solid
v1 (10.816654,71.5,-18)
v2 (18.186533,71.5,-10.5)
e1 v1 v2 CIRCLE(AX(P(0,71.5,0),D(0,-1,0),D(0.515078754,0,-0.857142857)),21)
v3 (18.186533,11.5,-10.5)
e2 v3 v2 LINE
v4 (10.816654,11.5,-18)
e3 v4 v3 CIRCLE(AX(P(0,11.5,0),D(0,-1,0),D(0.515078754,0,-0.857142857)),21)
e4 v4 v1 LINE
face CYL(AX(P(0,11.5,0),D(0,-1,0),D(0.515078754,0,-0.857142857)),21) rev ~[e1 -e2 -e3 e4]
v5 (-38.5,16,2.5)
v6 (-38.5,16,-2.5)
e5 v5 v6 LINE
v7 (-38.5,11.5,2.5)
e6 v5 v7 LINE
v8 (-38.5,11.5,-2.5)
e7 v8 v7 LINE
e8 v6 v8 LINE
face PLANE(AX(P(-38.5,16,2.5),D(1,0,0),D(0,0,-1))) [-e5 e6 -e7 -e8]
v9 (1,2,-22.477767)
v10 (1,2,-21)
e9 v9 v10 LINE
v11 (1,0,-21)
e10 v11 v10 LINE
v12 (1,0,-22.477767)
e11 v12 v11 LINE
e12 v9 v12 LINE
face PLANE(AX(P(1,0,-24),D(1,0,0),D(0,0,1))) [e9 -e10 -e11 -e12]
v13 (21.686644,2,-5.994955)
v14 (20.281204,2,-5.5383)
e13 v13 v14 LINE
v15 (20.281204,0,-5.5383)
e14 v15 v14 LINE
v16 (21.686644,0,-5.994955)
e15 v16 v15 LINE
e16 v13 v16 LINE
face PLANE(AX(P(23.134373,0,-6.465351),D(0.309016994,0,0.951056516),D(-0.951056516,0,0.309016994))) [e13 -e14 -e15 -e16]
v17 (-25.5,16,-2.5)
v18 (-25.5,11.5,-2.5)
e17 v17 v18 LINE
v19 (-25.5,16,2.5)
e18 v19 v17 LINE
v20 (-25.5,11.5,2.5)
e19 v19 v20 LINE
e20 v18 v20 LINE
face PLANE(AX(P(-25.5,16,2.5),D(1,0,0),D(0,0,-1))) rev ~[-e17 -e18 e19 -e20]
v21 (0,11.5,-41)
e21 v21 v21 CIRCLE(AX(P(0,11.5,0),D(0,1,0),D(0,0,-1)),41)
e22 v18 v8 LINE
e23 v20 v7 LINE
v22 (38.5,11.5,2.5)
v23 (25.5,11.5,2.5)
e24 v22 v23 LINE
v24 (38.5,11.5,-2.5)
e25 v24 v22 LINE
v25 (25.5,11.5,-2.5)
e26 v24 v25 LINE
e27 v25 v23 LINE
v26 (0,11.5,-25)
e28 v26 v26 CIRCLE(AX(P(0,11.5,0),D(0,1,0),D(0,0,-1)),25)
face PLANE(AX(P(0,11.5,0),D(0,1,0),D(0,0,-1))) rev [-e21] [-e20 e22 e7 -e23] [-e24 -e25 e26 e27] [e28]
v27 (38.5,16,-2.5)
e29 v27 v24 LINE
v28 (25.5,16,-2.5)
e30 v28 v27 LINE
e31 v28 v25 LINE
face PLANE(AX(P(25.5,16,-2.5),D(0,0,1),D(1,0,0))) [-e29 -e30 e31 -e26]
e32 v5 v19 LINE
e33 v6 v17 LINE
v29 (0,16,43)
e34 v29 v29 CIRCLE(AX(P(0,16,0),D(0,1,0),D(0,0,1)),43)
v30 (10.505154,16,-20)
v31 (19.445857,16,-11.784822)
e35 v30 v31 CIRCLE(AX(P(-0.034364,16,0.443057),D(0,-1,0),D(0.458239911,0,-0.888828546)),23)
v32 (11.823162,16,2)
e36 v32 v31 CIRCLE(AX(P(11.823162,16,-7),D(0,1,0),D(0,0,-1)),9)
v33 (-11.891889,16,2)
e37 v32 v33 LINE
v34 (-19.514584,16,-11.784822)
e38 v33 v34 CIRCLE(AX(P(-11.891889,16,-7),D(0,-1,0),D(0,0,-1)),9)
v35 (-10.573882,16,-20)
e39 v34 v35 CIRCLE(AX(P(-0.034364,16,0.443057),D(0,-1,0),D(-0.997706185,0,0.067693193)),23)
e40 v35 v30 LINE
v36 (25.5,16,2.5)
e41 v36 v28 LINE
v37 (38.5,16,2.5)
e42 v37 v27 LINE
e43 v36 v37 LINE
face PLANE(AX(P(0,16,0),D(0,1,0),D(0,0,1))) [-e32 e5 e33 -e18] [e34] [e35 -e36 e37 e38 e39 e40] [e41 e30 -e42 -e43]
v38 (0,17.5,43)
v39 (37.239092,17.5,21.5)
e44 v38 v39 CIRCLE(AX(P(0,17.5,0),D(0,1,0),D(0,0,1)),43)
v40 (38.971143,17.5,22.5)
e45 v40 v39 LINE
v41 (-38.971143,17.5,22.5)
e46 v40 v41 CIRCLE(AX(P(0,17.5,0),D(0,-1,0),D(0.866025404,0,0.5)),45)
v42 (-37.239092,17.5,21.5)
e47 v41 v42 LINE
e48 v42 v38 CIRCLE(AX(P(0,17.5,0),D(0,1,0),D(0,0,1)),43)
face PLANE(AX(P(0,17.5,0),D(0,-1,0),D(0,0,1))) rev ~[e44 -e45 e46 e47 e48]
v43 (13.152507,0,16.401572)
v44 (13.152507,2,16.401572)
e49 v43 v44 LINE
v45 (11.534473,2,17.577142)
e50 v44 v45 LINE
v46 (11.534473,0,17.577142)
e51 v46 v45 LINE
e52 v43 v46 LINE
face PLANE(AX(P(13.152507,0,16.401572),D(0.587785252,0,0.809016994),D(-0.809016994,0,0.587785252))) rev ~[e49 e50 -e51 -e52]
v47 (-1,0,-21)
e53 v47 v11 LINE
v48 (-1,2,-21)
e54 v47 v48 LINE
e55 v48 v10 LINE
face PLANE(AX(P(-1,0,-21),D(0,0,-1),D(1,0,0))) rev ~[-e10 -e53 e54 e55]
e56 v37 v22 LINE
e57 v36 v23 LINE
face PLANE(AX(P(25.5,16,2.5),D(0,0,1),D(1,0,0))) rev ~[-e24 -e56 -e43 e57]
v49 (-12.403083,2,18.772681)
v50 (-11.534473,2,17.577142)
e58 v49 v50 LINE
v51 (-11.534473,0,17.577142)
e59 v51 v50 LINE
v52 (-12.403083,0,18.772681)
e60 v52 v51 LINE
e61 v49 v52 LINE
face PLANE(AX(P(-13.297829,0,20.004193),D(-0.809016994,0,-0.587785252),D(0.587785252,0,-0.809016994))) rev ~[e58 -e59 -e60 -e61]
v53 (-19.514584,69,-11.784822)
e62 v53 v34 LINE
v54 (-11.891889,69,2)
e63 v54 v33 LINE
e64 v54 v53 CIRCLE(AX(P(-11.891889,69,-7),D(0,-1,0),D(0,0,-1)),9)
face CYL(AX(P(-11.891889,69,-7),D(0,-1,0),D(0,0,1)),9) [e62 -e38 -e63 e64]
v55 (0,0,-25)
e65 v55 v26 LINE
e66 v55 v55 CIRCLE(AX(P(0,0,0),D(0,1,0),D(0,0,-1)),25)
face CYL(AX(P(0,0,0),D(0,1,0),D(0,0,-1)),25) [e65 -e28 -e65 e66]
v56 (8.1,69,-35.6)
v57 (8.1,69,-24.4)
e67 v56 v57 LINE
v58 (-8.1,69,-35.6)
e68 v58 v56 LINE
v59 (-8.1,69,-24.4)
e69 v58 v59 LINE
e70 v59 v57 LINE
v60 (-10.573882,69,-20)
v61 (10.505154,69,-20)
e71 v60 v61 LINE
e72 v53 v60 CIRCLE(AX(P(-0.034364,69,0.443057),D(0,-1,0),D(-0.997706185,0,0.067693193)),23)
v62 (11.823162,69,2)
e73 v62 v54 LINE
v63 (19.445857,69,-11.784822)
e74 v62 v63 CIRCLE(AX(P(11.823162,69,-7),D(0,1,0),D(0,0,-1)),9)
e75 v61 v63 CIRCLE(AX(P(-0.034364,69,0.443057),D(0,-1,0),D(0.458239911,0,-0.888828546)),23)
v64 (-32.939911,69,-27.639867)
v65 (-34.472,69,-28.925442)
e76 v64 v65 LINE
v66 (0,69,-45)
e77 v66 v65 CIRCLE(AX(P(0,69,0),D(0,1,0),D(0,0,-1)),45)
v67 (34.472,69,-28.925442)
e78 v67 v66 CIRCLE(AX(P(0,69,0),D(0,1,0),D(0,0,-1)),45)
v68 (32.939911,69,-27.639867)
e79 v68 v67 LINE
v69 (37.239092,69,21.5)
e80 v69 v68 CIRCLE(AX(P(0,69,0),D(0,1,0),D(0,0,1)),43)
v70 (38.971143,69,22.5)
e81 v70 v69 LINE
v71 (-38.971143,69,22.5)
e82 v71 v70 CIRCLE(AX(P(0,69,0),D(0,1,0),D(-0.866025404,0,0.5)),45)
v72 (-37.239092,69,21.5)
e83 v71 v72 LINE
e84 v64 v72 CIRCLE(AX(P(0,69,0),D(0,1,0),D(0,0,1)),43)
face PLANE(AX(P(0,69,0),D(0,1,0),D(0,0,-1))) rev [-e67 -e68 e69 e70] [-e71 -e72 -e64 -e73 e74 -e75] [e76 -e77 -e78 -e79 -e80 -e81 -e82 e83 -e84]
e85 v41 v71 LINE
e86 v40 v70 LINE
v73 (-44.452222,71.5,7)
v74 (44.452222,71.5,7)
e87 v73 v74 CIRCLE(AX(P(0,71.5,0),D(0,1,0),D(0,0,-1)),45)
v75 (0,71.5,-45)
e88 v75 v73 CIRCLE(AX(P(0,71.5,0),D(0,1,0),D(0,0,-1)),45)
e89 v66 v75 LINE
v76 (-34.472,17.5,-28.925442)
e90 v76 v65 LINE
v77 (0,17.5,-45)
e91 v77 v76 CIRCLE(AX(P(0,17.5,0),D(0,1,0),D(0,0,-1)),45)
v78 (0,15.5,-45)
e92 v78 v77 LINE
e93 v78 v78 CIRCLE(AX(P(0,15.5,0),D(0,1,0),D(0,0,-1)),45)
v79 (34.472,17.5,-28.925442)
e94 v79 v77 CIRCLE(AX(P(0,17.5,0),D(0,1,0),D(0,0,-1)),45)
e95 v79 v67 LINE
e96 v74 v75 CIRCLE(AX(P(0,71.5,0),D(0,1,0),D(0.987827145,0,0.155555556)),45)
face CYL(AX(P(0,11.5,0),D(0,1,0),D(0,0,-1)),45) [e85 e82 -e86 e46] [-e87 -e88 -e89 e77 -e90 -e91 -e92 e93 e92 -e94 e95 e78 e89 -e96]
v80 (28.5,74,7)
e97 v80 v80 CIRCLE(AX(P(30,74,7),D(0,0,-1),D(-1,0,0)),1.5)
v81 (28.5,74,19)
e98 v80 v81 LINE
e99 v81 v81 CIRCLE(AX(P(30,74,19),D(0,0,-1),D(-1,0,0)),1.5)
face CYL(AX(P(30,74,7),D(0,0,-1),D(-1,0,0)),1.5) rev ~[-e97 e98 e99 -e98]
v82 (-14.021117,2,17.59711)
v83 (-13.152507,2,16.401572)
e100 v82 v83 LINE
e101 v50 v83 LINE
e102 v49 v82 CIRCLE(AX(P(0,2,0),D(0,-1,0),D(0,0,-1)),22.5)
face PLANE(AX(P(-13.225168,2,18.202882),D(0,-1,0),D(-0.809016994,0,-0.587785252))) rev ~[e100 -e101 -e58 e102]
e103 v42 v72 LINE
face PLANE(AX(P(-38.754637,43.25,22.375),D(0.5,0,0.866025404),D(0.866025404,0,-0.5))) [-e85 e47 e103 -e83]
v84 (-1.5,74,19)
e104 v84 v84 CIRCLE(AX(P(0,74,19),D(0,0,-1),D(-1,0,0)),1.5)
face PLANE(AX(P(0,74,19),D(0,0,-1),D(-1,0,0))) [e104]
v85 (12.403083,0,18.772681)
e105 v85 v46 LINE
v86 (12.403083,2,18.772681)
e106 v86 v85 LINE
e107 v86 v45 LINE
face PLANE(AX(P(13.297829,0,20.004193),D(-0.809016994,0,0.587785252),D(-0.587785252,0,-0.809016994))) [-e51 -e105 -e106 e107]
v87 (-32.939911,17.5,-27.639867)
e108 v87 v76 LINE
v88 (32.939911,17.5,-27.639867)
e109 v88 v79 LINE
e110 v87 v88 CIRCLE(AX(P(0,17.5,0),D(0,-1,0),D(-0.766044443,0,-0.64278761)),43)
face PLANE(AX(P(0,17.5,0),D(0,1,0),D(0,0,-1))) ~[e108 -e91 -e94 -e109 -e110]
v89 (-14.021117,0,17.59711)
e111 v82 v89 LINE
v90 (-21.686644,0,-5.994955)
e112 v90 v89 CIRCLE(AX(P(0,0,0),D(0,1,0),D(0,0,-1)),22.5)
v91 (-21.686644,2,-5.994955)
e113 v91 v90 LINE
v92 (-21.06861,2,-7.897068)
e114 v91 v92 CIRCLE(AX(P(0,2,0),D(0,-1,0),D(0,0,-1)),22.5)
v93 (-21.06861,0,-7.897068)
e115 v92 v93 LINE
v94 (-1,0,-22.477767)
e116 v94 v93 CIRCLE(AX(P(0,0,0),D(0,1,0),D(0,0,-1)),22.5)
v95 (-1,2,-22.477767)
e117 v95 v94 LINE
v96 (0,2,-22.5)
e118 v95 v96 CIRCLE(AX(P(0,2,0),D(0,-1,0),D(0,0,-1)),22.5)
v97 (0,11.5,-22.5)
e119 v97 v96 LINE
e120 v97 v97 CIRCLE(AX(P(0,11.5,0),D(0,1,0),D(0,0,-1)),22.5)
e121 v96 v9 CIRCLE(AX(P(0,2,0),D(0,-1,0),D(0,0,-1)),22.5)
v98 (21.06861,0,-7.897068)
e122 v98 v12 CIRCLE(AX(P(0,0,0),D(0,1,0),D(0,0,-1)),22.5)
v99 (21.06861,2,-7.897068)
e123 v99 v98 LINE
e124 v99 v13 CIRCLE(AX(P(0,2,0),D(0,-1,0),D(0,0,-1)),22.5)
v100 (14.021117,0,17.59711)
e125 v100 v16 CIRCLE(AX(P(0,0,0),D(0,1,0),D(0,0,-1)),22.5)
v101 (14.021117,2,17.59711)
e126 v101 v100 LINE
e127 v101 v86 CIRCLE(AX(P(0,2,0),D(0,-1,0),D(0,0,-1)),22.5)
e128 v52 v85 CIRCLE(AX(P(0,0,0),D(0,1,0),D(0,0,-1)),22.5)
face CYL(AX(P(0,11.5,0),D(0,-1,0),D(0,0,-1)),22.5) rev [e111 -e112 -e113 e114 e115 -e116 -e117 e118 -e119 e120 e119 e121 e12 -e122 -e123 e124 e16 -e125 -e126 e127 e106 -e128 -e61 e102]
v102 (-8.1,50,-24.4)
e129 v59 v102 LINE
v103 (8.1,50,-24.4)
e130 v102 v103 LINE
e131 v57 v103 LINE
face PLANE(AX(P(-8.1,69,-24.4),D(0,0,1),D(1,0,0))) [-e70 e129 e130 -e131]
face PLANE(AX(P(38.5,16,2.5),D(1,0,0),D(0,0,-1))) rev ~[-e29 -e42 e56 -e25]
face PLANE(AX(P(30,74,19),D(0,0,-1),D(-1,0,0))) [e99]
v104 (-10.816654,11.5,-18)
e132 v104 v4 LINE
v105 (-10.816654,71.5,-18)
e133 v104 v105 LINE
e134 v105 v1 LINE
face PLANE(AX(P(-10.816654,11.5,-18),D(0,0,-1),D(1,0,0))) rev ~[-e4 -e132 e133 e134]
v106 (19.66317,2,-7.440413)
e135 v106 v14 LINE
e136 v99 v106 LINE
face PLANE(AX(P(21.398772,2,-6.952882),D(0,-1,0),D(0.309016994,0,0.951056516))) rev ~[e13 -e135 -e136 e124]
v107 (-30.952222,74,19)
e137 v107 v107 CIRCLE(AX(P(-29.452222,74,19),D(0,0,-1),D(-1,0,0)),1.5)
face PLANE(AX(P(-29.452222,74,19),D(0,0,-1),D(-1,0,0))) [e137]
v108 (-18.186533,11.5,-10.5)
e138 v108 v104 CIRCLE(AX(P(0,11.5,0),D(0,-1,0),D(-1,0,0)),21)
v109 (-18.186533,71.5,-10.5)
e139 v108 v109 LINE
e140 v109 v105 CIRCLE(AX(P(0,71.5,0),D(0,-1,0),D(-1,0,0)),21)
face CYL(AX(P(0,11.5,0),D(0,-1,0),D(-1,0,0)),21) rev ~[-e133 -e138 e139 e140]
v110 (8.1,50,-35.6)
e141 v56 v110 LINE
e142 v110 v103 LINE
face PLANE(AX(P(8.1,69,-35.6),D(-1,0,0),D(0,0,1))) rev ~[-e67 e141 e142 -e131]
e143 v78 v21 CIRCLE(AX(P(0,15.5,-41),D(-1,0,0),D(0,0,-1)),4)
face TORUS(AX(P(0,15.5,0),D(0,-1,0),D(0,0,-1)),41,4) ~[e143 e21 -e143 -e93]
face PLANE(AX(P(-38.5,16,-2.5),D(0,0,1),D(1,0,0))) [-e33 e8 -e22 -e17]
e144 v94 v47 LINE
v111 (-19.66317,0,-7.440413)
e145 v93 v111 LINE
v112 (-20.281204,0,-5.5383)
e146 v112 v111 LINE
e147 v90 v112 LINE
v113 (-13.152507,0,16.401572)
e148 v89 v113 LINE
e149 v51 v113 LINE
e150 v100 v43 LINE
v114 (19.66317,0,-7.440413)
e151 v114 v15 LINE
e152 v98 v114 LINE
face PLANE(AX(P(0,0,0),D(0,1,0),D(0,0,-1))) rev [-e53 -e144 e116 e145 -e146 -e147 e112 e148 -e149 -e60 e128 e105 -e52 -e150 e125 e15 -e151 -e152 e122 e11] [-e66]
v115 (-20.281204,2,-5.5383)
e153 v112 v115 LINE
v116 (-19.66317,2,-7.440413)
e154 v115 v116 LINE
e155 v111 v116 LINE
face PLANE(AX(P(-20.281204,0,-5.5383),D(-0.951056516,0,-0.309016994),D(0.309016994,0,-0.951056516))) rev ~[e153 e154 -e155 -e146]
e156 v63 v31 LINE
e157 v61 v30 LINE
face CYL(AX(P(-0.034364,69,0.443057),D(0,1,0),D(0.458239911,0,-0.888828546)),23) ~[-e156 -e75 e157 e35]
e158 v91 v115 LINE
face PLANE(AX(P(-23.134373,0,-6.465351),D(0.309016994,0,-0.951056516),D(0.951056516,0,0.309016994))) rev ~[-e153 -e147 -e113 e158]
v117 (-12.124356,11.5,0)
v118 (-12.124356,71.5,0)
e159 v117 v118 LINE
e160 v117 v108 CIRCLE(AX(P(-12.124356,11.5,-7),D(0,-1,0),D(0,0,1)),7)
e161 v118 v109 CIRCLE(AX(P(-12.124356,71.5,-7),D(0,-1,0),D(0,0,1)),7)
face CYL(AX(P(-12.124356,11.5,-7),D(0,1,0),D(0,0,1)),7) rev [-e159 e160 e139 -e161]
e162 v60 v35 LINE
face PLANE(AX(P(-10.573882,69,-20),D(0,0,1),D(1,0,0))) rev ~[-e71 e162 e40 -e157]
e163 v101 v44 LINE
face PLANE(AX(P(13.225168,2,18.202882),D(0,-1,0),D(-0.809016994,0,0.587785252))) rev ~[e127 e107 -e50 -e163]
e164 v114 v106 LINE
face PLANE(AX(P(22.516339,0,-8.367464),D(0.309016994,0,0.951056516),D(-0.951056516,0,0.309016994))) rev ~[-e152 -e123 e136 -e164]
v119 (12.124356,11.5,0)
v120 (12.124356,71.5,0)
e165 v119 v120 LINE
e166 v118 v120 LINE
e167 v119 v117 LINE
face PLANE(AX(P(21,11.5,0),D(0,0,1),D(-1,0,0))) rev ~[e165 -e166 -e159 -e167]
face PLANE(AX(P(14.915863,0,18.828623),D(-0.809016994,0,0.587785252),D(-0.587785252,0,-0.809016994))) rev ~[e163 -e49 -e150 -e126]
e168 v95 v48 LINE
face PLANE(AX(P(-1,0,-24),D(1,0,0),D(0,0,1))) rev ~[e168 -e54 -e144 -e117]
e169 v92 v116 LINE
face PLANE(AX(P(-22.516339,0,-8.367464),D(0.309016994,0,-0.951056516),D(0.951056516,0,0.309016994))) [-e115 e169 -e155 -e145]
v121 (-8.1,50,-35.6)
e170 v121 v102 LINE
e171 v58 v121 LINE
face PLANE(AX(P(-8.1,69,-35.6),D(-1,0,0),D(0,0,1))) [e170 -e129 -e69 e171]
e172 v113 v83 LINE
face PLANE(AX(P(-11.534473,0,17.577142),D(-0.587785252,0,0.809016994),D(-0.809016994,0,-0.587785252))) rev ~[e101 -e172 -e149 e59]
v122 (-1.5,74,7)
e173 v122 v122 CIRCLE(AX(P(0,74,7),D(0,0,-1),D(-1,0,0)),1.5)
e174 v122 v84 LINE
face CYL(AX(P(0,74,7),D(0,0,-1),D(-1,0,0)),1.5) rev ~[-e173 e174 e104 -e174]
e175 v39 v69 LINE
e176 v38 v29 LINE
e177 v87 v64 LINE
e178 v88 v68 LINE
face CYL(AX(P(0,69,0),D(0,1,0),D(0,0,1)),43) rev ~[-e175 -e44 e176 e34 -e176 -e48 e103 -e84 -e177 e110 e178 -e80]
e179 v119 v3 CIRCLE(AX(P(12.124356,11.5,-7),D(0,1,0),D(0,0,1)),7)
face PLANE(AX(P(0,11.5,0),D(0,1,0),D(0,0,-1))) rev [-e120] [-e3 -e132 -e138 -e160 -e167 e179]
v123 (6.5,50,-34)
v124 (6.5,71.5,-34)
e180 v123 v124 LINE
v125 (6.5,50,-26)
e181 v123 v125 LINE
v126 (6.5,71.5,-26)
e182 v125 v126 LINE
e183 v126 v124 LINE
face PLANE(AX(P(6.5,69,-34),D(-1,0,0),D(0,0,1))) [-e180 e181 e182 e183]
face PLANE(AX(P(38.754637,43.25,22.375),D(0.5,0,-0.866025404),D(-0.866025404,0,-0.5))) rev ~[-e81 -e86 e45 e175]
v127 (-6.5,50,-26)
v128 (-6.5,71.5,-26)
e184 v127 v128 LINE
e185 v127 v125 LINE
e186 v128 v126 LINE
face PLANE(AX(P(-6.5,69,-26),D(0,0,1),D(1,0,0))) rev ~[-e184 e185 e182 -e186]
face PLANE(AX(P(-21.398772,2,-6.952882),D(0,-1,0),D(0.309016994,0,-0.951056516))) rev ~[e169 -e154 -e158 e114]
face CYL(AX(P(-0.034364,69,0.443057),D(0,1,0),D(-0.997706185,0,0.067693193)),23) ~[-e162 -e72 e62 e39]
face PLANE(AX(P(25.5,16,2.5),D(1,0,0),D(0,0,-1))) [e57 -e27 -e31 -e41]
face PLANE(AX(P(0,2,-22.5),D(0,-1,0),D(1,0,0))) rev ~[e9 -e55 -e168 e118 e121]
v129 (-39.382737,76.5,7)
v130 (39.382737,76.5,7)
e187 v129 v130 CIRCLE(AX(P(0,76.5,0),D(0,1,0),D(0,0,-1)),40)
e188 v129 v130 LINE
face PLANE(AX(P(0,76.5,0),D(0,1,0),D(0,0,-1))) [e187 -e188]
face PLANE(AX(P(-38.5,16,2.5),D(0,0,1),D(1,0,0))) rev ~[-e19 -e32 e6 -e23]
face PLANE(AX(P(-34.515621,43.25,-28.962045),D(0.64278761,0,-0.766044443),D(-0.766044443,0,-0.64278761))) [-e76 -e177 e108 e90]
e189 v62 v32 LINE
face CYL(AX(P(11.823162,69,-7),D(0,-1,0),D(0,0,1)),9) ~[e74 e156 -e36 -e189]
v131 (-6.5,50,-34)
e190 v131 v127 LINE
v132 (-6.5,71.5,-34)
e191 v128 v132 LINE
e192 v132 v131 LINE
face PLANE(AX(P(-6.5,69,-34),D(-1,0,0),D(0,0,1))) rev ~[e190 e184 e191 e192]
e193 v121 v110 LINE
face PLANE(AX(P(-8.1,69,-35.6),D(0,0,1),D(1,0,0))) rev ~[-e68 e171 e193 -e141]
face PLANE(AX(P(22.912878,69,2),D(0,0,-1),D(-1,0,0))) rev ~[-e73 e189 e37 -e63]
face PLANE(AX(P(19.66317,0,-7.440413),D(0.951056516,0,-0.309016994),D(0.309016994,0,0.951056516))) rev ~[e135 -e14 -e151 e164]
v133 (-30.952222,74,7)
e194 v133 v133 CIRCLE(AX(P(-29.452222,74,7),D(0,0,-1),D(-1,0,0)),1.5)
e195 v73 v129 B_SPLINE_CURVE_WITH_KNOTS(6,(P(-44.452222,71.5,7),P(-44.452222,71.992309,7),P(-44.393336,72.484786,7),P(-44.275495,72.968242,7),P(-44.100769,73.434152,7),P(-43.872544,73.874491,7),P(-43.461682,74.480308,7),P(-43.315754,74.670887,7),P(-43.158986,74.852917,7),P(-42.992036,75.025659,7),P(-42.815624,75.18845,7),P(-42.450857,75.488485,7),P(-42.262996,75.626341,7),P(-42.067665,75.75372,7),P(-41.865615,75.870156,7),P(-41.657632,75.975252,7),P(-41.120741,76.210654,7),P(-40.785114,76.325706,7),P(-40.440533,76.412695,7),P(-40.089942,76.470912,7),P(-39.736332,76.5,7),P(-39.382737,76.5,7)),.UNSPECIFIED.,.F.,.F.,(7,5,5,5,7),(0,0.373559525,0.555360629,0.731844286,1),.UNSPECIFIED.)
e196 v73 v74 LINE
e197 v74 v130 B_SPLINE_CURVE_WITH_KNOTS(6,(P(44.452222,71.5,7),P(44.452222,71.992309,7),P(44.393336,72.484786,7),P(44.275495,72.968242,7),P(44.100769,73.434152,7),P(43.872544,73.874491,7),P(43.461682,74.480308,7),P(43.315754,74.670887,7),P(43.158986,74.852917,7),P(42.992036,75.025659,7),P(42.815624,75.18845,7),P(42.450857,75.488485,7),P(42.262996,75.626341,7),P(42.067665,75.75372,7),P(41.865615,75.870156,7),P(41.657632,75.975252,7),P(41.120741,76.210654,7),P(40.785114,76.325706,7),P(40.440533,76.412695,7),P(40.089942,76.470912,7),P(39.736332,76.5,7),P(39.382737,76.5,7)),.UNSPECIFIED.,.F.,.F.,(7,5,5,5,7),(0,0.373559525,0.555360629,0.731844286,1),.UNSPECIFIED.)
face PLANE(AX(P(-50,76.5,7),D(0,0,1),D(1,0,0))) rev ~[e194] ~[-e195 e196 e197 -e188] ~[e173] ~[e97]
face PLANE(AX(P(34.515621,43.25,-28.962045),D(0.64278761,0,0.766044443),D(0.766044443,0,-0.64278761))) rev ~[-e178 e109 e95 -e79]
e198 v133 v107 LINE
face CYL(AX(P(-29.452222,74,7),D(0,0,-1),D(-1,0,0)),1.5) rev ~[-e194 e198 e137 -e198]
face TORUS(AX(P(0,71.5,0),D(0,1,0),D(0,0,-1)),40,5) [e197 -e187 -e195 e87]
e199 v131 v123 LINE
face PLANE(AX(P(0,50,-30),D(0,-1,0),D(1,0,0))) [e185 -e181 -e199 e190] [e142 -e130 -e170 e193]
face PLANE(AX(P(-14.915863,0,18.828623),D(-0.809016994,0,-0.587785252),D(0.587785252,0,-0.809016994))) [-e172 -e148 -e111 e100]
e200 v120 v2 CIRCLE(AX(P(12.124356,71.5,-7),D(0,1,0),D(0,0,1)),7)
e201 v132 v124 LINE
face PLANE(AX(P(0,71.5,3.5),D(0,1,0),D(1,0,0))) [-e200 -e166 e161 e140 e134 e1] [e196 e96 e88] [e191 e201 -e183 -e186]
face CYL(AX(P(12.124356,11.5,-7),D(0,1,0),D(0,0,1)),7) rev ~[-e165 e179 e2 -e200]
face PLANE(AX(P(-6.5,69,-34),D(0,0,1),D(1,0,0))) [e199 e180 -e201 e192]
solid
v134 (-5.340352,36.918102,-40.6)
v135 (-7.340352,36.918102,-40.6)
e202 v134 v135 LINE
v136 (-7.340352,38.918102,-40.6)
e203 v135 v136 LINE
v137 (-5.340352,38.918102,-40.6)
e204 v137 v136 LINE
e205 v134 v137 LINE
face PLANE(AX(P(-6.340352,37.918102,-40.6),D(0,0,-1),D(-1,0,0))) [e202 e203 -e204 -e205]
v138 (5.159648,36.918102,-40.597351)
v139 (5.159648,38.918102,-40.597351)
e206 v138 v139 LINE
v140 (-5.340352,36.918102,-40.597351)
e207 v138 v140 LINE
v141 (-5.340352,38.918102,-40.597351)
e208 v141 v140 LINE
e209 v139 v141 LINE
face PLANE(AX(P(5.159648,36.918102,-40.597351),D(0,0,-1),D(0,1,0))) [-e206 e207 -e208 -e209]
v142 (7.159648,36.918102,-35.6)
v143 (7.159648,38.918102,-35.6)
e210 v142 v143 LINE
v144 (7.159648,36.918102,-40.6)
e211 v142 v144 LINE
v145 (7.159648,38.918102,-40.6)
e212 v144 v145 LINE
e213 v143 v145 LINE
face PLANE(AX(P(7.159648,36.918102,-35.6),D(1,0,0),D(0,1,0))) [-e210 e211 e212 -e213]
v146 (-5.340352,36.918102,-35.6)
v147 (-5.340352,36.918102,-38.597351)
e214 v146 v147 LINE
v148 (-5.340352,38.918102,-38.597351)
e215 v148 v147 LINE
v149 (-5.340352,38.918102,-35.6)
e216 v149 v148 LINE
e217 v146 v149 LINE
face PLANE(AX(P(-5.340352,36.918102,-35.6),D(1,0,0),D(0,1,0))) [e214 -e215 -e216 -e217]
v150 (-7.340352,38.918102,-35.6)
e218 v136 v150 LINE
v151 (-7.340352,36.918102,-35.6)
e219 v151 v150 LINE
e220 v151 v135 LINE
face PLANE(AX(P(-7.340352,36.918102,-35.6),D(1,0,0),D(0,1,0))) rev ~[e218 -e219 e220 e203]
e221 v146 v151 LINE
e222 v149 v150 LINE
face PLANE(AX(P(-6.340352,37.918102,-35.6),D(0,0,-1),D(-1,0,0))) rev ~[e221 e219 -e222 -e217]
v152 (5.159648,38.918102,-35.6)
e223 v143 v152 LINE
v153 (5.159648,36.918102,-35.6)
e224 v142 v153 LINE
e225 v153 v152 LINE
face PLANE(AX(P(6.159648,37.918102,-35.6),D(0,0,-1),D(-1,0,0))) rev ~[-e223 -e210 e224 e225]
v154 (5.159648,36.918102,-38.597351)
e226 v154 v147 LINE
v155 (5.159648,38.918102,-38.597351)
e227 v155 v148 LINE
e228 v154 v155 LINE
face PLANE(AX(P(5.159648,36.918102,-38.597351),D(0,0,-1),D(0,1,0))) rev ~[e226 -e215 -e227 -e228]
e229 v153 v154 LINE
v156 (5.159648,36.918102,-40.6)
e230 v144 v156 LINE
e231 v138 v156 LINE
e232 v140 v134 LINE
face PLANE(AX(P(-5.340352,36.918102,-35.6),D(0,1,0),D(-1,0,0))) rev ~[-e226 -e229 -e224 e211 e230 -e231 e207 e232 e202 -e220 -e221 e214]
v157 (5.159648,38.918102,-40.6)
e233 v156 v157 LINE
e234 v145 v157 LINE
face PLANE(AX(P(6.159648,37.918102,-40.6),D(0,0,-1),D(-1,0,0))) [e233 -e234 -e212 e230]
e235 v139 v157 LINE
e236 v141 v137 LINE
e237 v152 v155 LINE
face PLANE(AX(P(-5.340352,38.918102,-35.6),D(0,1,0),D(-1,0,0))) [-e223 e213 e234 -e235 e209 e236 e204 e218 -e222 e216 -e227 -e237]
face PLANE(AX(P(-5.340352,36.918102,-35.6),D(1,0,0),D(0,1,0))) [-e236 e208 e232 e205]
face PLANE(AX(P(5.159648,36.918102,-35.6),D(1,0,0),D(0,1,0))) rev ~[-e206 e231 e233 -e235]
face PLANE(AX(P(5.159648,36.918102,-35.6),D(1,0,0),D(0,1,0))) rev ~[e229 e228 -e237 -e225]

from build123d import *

# Parameters (mm, degrees)
CUT_EXTRUDE1_DEPTH           = 5
CUT_EXTRUDE3_DEPTH           = 60
SKETCH8_R                    = 43
CUT_EXTRUDE4_DEPTH           = 53
FILLET1_R                    = 7
SKETCH12_W                   = 6.5
SKETCH12_H                   = 51.5
CUT_REVOLVE1_ANGLE           = 60
CUT_REVOLVE1_OTHER_WAY_ANGLE = 60
SKETCH18_W                   = 13
SKETCH18_H                   = 8
CUT_EXTRUDE13_DEPTH          = 5
SKETCH20_W                   = 100
SKETCH20_H                   = 7
CUT_EXTRUDE15_DEPTH          = 5
SKETCH19_R                   = 1.5
CUT_EXTRUDE14_DEPTH          = 12
FILLET3_R                    = 4
SKETCH24_W                   = 2
SKETCH24_H                   = 3
BOSS_EXTRUDE3_DEPTH          = 2
CIRPATTERN2_COUNT            = 5
SKETCH26_W                   = 5
SKETCH26_H                   = 51.5
CUT_REVOLVE2_ANGLE           = 50
CUT_REVOLVE2_OTHER_WAY_ANGLE = 50
SKETCH29_W                   = 16.2
SKETCH29_H                   = 11.2
SKETCH29_W_2                 = 13
SKETCH29_H_2                 = 8
BOSS_EXTRUDE4_DEPTH          = 19
SKETCH36_W                   = 2
SKETCH36_H                   = 2
BOSS_EXTRUDE7_DEPTH          = 5
SKETCH37_W                   = 2
SKETCH37_H                   = 2
BOSS_EXTRUDE8_DEPTH          = 12.5
SKETCH40_W                   = 2
SKETCH40_H                   = 2
BOSS_EXTRUDE9_DEPTH          = 5
FILLET8_R                    = 9
SKETCH50_W                   = 13
SKETCH50_H                   = 5
CUT_EXTRUDE23_DEPTH          = 7


with BuildPart() as part:
    # Sketch1 → Revolve1 (revolve)
    with BuildSketch(Plane.XY, mode=Mode.PRIVATE) as revolve1_sk:
        with BuildLine():
            Line((0, 76.5), (0, 11.5))
            Line((0, 11.5), (22.5, 11.5))
            Line((22.5, 11.5), (22.5, 0))
            Line((22.5, 0), (25, 0))
            Line((25, 0), (25, 11.5))
            Line((25, 11.5), (45, 11.5))
            Line((45, 11.5), (45, 71.5))
            ThreePointArc((45, 71.5), (43.535533906, 75.035533906), (40, 76.5))
            Line((40, 76.5), (0, 76.5))
        make_face()
    revolve(revolve1_sk.sketch.rotate(Axis((0, 2, 0), (0, 1, 0)), 90), axis=Axis((0, 2, 0), (0, 1, 0)))

    # Sketch5 → Cut-Extrude1 (cut)
    with BuildSketch(Plane(origin=(0, 76.5, 0), x_dir=(1, 0, 0), z_dir=(0, 1, 0))):
        with BuildLine():
            Line((-45, 0), (45, 0))
            ThreePointArc((45, 0), (0, 45), (-45, 0))
        make_face()
    extrude(amount=-CUT_EXTRUDE1_DEPTH, mode=Mode.SUBTRACT)

    # Sketch7 → Cut-Extrude3 (cut)
    with BuildSketch(Plane.XZ.offset(-11.5)):
        with BuildLine():
            Line((21, 0), (-21, 0))
            ThreePointArc((-21, 0), (-18.277714988, -10.340461055), (-10.816653826, -18))
            Line((-10.816653826, -18), (10.816653826, -18))
            ThreePointArc((10.816653826, -18), (18.277714988, -10.340461055), (21, 0))
        make_face()
    extrude(amount=-CUT_EXTRUDE3_DEPTH, mode=Mode.SUBTRACT)

    # Sketch8 → Cut-Extrude4 (cut)
    with BuildSketch(Plane(origin=(0, 69, 0), x_dir=(1, 0, 0), z_dir=(0, 1, 0))):
        with Locations(Location((0, 0, 0), (0, 0, 270))):
            Circle(SKETCH8_R)
        with BuildLine():
            Line((22.912878475, -2), (-22.981606036, -2))
            ThreePointArc((-22.981606036, -2), (-20.067855169, 10.855581536), (-10.573881727, 20))
            Line((-10.573881727, 20), (10.505154166, 20))
            ThreePointArc((10.505154166, 20), (19.999127608, 10.855581536), (22.912878475, -2))
        make_face(mode=Mode.SUBTRACT)
    extrude(amount=-CUT_EXTRUDE4_DEPTH, mode=Mode.SUBTRACT)

    # Fillet1
    fillet1_edges = [part.edges().sort_by_distance(p)[0] for p in [
        (-21, 41.5, 0),
        (21, 41.5, 0),
    ]]
    fillet(fillet1_edges, radius=FILLET1_R)

    # Sketch12 → Cut-Revolve1 (revolve, cut)
    with BuildSketch(Plane(origin=(0, 0, 0), x_dir=(0, 0, -1), z_dir=(1, 0, 0))):
        with Locations((-44.75, 43.25)):
            Rectangle(SKETCH12_W, SKETCH12_H)
    revolve(axis=Axis((0, 71.5, 0), (0, -1, 0)), revolution_arc=CUT_REVOLVE1_ANGLE, mode=Mode.SUBTRACT)

    # Sketch12 → Cut-Revolve1 other way (revolve, cut)
    with BuildSketch(Plane(origin=(0, 0, 0), x_dir=(0, 0, -1), z_dir=(1, 0, 0))):
        with Locations((-44.75, 43.25)):
            Rectangle(SKETCH12_W, SKETCH12_H)
    revolve(axis=Axis((0, 71.5, 0), (0, 1, 0)), revolution_arc=CUT_REVOLVE1_OTHER_WAY_ANGLE, mode=Mode.SUBTRACT)

    # Sketch18 → Cut-Extrude13 (cut)
    with BuildSketch(Plane(origin=(0, 71.5, 0), x_dir=(1, 0, 0), z_dir=(0, 1, 0))):
        with Locations((0, 30)):
            Rectangle(SKETCH18_W, SKETCH18_H)
    extrude(amount=-CUT_EXTRUDE13_DEPTH, mode=Mode.SUBTRACT)

    # Sketch20 → Cut-Extrude15 (cut)
    with BuildSketch(Plane(origin=(0, 76.5, 0), x_dir=(1, 0, 0), z_dir=(0, 1, 0))):
        with Locations((0, -3.5)):
            Rectangle(SKETCH20_W, SKETCH20_H)
    extrude(amount=-CUT_EXTRUDE15_DEPTH, mode=Mode.SUBTRACT)

    # Sketch19 → Cut-Extrude14 (cut)
    with BuildSketch(Plane(origin=(0, 0, 7), x_dir=(-1, 0, 0), z_dir=(0, 0, -1))):
        with Locations((0, 74)):
            Circle(SKETCH19_R)
        with Locations((-30, 74)):
            Circle(SKETCH19_R)
        with Locations((29.452221542, 74)):
            Circle(SKETCH19_R)
    extrude(amount=-CUT_EXTRUDE14_DEPTH, mode=Mode.SUBTRACT)

    # Fillet3
    fillet3_edges = [part.edges().sort_by_distance(p)[0] for p in [
        (0, 11.5, 45),
    ]]
    fillet(fillet3_edges, radius=FILLET3_R)

    # Sketch24 → Boss-Extrude3 (add)
    with BuildSketch(Plane.XZ):
        with Locations((0, -22.5)):
            Rectangle(SKETCH24_W, SKETCH24_H)
    boss_extrude3 = extrude(amount=-BOSS_EXTRUDE3_DEPTH)

    # CirPattern2: Boss-Extrude3 ×5 about axis
    cirpattern2_axis = Axis((0, 0, 0), (0, 1, 0))
    for i in range(1, CIRPATTERN2_COUNT):
        add(boss_extrude3.rotate(cirpattern2_axis, i * 360 / CIRPATTERN2_COUNT))

    # Sketch26 → Cut-Revolve2 (revolve, cut)
    with BuildSketch(Plane(origin=(0, 0, 0), x_dir=(0, 0, -1), z_dir=(1, 0, 0))):
        with Locations((45.056943441, 43.25)):
            Rectangle(SKETCH26_W, SKETCH26_H)
    revolve(axis=Axis((0, 2, 0), (0, -1, 0)), revolution_arc=CUT_REVOLVE2_ANGLE, mode=Mode.SUBTRACT)

    # Sketch26 → Cut-Revolve2 other way (revolve, cut)
    with BuildSketch(Plane(origin=(0, 0, 0), x_dir=(0, 0, -1), z_dir=(1, 0, 0))):
        with Locations((45.056943441, 43.25)):
            Rectangle(SKETCH26_W, SKETCH26_H)
    revolve(axis=Axis((0, 2, 0), (0, 1, 0)), revolution_arc=CUT_REVOLVE2_OTHER_WAY_ANGLE, mode=Mode.SUBTRACT)

    # Sketch29 → Boss-Extrude4 (add)
    with BuildSketch(Plane.XZ.offset(-69)):
        with Locations((0, -30)):
            Rectangle(SKETCH29_W, SKETCH29_H)
        with Locations((0, -30)):
            Rectangle(SKETCH29_W_2, SKETCH29_H_2, mode=Mode.SUBTRACT)
    extrude(amount=BOSS_EXTRUDE4_DEPTH)

    # Fillet8
    fillet8_edges = [part.edges().sort_by_distance(p)[0] for p in [
        (-22.981606036, 42.5, 2),
        (22.912878475, 42.5, 2),
    ]]
    fillet(fillet8_edges, radius=FILLET8_R)

    # Sketch50 → Cut-Extrude23 (cut)
    with BuildSketch(Plane(origin=(0, 16, 0), x_dir=(1, 0, 0), z_dir=(0, 1, 0))):
        with Locations((32, 0)):
            Rectangle(SKETCH50_W, SKETCH50_H)
        with Locations((-32, 0)):
            Rectangle(SKETCH50_W, SKETCH50_H)
    extrude(amount=-CUT_EXTRUDE23_DEPTH, mode=Mode.SUBTRACT)


with BuildPart() as body_2:
    # Sketch36 → Boss-Extrude7 (new body)
    with BuildSketch(Plane(origin=(0, 0, -35.6), x_dir=(-1, 0, 0), z_dir=(0, 0, -1))):
        with Locations((-6.159647943, 37.918102195)):
            Rectangle(SKETCH36_W, SKETCH36_H)
    extrude(amount=BOSS_EXTRUDE7_DEPTH)

    # Sketch37 → Boss-Extrude8 (add)
    with BuildSketch(Plane.ZY.offset(-5.159647943)):
        with Locations((-39.597351245, 37.918102195)):
            Rectangle(SKETCH37_W, SKETCH37_H)
    extrude(amount=BOSS_EXTRUDE8_DEPTH)

    # Sketch40 → Boss-Extrude9 (add)
    with BuildSketch(Plane(origin=(0, 0, -35.6), x_dir=(-1, 0, 0), z_dir=(0, 0, -1))):
        with Locations((6.340352057, 37.918102195)):
            Rectangle(SKETCH40_W, SKETCH40_H)
    extrude(amount=BOSS_EXTRUDE9_DEPTH)


solid = Compound([part.part, body_2.part])
